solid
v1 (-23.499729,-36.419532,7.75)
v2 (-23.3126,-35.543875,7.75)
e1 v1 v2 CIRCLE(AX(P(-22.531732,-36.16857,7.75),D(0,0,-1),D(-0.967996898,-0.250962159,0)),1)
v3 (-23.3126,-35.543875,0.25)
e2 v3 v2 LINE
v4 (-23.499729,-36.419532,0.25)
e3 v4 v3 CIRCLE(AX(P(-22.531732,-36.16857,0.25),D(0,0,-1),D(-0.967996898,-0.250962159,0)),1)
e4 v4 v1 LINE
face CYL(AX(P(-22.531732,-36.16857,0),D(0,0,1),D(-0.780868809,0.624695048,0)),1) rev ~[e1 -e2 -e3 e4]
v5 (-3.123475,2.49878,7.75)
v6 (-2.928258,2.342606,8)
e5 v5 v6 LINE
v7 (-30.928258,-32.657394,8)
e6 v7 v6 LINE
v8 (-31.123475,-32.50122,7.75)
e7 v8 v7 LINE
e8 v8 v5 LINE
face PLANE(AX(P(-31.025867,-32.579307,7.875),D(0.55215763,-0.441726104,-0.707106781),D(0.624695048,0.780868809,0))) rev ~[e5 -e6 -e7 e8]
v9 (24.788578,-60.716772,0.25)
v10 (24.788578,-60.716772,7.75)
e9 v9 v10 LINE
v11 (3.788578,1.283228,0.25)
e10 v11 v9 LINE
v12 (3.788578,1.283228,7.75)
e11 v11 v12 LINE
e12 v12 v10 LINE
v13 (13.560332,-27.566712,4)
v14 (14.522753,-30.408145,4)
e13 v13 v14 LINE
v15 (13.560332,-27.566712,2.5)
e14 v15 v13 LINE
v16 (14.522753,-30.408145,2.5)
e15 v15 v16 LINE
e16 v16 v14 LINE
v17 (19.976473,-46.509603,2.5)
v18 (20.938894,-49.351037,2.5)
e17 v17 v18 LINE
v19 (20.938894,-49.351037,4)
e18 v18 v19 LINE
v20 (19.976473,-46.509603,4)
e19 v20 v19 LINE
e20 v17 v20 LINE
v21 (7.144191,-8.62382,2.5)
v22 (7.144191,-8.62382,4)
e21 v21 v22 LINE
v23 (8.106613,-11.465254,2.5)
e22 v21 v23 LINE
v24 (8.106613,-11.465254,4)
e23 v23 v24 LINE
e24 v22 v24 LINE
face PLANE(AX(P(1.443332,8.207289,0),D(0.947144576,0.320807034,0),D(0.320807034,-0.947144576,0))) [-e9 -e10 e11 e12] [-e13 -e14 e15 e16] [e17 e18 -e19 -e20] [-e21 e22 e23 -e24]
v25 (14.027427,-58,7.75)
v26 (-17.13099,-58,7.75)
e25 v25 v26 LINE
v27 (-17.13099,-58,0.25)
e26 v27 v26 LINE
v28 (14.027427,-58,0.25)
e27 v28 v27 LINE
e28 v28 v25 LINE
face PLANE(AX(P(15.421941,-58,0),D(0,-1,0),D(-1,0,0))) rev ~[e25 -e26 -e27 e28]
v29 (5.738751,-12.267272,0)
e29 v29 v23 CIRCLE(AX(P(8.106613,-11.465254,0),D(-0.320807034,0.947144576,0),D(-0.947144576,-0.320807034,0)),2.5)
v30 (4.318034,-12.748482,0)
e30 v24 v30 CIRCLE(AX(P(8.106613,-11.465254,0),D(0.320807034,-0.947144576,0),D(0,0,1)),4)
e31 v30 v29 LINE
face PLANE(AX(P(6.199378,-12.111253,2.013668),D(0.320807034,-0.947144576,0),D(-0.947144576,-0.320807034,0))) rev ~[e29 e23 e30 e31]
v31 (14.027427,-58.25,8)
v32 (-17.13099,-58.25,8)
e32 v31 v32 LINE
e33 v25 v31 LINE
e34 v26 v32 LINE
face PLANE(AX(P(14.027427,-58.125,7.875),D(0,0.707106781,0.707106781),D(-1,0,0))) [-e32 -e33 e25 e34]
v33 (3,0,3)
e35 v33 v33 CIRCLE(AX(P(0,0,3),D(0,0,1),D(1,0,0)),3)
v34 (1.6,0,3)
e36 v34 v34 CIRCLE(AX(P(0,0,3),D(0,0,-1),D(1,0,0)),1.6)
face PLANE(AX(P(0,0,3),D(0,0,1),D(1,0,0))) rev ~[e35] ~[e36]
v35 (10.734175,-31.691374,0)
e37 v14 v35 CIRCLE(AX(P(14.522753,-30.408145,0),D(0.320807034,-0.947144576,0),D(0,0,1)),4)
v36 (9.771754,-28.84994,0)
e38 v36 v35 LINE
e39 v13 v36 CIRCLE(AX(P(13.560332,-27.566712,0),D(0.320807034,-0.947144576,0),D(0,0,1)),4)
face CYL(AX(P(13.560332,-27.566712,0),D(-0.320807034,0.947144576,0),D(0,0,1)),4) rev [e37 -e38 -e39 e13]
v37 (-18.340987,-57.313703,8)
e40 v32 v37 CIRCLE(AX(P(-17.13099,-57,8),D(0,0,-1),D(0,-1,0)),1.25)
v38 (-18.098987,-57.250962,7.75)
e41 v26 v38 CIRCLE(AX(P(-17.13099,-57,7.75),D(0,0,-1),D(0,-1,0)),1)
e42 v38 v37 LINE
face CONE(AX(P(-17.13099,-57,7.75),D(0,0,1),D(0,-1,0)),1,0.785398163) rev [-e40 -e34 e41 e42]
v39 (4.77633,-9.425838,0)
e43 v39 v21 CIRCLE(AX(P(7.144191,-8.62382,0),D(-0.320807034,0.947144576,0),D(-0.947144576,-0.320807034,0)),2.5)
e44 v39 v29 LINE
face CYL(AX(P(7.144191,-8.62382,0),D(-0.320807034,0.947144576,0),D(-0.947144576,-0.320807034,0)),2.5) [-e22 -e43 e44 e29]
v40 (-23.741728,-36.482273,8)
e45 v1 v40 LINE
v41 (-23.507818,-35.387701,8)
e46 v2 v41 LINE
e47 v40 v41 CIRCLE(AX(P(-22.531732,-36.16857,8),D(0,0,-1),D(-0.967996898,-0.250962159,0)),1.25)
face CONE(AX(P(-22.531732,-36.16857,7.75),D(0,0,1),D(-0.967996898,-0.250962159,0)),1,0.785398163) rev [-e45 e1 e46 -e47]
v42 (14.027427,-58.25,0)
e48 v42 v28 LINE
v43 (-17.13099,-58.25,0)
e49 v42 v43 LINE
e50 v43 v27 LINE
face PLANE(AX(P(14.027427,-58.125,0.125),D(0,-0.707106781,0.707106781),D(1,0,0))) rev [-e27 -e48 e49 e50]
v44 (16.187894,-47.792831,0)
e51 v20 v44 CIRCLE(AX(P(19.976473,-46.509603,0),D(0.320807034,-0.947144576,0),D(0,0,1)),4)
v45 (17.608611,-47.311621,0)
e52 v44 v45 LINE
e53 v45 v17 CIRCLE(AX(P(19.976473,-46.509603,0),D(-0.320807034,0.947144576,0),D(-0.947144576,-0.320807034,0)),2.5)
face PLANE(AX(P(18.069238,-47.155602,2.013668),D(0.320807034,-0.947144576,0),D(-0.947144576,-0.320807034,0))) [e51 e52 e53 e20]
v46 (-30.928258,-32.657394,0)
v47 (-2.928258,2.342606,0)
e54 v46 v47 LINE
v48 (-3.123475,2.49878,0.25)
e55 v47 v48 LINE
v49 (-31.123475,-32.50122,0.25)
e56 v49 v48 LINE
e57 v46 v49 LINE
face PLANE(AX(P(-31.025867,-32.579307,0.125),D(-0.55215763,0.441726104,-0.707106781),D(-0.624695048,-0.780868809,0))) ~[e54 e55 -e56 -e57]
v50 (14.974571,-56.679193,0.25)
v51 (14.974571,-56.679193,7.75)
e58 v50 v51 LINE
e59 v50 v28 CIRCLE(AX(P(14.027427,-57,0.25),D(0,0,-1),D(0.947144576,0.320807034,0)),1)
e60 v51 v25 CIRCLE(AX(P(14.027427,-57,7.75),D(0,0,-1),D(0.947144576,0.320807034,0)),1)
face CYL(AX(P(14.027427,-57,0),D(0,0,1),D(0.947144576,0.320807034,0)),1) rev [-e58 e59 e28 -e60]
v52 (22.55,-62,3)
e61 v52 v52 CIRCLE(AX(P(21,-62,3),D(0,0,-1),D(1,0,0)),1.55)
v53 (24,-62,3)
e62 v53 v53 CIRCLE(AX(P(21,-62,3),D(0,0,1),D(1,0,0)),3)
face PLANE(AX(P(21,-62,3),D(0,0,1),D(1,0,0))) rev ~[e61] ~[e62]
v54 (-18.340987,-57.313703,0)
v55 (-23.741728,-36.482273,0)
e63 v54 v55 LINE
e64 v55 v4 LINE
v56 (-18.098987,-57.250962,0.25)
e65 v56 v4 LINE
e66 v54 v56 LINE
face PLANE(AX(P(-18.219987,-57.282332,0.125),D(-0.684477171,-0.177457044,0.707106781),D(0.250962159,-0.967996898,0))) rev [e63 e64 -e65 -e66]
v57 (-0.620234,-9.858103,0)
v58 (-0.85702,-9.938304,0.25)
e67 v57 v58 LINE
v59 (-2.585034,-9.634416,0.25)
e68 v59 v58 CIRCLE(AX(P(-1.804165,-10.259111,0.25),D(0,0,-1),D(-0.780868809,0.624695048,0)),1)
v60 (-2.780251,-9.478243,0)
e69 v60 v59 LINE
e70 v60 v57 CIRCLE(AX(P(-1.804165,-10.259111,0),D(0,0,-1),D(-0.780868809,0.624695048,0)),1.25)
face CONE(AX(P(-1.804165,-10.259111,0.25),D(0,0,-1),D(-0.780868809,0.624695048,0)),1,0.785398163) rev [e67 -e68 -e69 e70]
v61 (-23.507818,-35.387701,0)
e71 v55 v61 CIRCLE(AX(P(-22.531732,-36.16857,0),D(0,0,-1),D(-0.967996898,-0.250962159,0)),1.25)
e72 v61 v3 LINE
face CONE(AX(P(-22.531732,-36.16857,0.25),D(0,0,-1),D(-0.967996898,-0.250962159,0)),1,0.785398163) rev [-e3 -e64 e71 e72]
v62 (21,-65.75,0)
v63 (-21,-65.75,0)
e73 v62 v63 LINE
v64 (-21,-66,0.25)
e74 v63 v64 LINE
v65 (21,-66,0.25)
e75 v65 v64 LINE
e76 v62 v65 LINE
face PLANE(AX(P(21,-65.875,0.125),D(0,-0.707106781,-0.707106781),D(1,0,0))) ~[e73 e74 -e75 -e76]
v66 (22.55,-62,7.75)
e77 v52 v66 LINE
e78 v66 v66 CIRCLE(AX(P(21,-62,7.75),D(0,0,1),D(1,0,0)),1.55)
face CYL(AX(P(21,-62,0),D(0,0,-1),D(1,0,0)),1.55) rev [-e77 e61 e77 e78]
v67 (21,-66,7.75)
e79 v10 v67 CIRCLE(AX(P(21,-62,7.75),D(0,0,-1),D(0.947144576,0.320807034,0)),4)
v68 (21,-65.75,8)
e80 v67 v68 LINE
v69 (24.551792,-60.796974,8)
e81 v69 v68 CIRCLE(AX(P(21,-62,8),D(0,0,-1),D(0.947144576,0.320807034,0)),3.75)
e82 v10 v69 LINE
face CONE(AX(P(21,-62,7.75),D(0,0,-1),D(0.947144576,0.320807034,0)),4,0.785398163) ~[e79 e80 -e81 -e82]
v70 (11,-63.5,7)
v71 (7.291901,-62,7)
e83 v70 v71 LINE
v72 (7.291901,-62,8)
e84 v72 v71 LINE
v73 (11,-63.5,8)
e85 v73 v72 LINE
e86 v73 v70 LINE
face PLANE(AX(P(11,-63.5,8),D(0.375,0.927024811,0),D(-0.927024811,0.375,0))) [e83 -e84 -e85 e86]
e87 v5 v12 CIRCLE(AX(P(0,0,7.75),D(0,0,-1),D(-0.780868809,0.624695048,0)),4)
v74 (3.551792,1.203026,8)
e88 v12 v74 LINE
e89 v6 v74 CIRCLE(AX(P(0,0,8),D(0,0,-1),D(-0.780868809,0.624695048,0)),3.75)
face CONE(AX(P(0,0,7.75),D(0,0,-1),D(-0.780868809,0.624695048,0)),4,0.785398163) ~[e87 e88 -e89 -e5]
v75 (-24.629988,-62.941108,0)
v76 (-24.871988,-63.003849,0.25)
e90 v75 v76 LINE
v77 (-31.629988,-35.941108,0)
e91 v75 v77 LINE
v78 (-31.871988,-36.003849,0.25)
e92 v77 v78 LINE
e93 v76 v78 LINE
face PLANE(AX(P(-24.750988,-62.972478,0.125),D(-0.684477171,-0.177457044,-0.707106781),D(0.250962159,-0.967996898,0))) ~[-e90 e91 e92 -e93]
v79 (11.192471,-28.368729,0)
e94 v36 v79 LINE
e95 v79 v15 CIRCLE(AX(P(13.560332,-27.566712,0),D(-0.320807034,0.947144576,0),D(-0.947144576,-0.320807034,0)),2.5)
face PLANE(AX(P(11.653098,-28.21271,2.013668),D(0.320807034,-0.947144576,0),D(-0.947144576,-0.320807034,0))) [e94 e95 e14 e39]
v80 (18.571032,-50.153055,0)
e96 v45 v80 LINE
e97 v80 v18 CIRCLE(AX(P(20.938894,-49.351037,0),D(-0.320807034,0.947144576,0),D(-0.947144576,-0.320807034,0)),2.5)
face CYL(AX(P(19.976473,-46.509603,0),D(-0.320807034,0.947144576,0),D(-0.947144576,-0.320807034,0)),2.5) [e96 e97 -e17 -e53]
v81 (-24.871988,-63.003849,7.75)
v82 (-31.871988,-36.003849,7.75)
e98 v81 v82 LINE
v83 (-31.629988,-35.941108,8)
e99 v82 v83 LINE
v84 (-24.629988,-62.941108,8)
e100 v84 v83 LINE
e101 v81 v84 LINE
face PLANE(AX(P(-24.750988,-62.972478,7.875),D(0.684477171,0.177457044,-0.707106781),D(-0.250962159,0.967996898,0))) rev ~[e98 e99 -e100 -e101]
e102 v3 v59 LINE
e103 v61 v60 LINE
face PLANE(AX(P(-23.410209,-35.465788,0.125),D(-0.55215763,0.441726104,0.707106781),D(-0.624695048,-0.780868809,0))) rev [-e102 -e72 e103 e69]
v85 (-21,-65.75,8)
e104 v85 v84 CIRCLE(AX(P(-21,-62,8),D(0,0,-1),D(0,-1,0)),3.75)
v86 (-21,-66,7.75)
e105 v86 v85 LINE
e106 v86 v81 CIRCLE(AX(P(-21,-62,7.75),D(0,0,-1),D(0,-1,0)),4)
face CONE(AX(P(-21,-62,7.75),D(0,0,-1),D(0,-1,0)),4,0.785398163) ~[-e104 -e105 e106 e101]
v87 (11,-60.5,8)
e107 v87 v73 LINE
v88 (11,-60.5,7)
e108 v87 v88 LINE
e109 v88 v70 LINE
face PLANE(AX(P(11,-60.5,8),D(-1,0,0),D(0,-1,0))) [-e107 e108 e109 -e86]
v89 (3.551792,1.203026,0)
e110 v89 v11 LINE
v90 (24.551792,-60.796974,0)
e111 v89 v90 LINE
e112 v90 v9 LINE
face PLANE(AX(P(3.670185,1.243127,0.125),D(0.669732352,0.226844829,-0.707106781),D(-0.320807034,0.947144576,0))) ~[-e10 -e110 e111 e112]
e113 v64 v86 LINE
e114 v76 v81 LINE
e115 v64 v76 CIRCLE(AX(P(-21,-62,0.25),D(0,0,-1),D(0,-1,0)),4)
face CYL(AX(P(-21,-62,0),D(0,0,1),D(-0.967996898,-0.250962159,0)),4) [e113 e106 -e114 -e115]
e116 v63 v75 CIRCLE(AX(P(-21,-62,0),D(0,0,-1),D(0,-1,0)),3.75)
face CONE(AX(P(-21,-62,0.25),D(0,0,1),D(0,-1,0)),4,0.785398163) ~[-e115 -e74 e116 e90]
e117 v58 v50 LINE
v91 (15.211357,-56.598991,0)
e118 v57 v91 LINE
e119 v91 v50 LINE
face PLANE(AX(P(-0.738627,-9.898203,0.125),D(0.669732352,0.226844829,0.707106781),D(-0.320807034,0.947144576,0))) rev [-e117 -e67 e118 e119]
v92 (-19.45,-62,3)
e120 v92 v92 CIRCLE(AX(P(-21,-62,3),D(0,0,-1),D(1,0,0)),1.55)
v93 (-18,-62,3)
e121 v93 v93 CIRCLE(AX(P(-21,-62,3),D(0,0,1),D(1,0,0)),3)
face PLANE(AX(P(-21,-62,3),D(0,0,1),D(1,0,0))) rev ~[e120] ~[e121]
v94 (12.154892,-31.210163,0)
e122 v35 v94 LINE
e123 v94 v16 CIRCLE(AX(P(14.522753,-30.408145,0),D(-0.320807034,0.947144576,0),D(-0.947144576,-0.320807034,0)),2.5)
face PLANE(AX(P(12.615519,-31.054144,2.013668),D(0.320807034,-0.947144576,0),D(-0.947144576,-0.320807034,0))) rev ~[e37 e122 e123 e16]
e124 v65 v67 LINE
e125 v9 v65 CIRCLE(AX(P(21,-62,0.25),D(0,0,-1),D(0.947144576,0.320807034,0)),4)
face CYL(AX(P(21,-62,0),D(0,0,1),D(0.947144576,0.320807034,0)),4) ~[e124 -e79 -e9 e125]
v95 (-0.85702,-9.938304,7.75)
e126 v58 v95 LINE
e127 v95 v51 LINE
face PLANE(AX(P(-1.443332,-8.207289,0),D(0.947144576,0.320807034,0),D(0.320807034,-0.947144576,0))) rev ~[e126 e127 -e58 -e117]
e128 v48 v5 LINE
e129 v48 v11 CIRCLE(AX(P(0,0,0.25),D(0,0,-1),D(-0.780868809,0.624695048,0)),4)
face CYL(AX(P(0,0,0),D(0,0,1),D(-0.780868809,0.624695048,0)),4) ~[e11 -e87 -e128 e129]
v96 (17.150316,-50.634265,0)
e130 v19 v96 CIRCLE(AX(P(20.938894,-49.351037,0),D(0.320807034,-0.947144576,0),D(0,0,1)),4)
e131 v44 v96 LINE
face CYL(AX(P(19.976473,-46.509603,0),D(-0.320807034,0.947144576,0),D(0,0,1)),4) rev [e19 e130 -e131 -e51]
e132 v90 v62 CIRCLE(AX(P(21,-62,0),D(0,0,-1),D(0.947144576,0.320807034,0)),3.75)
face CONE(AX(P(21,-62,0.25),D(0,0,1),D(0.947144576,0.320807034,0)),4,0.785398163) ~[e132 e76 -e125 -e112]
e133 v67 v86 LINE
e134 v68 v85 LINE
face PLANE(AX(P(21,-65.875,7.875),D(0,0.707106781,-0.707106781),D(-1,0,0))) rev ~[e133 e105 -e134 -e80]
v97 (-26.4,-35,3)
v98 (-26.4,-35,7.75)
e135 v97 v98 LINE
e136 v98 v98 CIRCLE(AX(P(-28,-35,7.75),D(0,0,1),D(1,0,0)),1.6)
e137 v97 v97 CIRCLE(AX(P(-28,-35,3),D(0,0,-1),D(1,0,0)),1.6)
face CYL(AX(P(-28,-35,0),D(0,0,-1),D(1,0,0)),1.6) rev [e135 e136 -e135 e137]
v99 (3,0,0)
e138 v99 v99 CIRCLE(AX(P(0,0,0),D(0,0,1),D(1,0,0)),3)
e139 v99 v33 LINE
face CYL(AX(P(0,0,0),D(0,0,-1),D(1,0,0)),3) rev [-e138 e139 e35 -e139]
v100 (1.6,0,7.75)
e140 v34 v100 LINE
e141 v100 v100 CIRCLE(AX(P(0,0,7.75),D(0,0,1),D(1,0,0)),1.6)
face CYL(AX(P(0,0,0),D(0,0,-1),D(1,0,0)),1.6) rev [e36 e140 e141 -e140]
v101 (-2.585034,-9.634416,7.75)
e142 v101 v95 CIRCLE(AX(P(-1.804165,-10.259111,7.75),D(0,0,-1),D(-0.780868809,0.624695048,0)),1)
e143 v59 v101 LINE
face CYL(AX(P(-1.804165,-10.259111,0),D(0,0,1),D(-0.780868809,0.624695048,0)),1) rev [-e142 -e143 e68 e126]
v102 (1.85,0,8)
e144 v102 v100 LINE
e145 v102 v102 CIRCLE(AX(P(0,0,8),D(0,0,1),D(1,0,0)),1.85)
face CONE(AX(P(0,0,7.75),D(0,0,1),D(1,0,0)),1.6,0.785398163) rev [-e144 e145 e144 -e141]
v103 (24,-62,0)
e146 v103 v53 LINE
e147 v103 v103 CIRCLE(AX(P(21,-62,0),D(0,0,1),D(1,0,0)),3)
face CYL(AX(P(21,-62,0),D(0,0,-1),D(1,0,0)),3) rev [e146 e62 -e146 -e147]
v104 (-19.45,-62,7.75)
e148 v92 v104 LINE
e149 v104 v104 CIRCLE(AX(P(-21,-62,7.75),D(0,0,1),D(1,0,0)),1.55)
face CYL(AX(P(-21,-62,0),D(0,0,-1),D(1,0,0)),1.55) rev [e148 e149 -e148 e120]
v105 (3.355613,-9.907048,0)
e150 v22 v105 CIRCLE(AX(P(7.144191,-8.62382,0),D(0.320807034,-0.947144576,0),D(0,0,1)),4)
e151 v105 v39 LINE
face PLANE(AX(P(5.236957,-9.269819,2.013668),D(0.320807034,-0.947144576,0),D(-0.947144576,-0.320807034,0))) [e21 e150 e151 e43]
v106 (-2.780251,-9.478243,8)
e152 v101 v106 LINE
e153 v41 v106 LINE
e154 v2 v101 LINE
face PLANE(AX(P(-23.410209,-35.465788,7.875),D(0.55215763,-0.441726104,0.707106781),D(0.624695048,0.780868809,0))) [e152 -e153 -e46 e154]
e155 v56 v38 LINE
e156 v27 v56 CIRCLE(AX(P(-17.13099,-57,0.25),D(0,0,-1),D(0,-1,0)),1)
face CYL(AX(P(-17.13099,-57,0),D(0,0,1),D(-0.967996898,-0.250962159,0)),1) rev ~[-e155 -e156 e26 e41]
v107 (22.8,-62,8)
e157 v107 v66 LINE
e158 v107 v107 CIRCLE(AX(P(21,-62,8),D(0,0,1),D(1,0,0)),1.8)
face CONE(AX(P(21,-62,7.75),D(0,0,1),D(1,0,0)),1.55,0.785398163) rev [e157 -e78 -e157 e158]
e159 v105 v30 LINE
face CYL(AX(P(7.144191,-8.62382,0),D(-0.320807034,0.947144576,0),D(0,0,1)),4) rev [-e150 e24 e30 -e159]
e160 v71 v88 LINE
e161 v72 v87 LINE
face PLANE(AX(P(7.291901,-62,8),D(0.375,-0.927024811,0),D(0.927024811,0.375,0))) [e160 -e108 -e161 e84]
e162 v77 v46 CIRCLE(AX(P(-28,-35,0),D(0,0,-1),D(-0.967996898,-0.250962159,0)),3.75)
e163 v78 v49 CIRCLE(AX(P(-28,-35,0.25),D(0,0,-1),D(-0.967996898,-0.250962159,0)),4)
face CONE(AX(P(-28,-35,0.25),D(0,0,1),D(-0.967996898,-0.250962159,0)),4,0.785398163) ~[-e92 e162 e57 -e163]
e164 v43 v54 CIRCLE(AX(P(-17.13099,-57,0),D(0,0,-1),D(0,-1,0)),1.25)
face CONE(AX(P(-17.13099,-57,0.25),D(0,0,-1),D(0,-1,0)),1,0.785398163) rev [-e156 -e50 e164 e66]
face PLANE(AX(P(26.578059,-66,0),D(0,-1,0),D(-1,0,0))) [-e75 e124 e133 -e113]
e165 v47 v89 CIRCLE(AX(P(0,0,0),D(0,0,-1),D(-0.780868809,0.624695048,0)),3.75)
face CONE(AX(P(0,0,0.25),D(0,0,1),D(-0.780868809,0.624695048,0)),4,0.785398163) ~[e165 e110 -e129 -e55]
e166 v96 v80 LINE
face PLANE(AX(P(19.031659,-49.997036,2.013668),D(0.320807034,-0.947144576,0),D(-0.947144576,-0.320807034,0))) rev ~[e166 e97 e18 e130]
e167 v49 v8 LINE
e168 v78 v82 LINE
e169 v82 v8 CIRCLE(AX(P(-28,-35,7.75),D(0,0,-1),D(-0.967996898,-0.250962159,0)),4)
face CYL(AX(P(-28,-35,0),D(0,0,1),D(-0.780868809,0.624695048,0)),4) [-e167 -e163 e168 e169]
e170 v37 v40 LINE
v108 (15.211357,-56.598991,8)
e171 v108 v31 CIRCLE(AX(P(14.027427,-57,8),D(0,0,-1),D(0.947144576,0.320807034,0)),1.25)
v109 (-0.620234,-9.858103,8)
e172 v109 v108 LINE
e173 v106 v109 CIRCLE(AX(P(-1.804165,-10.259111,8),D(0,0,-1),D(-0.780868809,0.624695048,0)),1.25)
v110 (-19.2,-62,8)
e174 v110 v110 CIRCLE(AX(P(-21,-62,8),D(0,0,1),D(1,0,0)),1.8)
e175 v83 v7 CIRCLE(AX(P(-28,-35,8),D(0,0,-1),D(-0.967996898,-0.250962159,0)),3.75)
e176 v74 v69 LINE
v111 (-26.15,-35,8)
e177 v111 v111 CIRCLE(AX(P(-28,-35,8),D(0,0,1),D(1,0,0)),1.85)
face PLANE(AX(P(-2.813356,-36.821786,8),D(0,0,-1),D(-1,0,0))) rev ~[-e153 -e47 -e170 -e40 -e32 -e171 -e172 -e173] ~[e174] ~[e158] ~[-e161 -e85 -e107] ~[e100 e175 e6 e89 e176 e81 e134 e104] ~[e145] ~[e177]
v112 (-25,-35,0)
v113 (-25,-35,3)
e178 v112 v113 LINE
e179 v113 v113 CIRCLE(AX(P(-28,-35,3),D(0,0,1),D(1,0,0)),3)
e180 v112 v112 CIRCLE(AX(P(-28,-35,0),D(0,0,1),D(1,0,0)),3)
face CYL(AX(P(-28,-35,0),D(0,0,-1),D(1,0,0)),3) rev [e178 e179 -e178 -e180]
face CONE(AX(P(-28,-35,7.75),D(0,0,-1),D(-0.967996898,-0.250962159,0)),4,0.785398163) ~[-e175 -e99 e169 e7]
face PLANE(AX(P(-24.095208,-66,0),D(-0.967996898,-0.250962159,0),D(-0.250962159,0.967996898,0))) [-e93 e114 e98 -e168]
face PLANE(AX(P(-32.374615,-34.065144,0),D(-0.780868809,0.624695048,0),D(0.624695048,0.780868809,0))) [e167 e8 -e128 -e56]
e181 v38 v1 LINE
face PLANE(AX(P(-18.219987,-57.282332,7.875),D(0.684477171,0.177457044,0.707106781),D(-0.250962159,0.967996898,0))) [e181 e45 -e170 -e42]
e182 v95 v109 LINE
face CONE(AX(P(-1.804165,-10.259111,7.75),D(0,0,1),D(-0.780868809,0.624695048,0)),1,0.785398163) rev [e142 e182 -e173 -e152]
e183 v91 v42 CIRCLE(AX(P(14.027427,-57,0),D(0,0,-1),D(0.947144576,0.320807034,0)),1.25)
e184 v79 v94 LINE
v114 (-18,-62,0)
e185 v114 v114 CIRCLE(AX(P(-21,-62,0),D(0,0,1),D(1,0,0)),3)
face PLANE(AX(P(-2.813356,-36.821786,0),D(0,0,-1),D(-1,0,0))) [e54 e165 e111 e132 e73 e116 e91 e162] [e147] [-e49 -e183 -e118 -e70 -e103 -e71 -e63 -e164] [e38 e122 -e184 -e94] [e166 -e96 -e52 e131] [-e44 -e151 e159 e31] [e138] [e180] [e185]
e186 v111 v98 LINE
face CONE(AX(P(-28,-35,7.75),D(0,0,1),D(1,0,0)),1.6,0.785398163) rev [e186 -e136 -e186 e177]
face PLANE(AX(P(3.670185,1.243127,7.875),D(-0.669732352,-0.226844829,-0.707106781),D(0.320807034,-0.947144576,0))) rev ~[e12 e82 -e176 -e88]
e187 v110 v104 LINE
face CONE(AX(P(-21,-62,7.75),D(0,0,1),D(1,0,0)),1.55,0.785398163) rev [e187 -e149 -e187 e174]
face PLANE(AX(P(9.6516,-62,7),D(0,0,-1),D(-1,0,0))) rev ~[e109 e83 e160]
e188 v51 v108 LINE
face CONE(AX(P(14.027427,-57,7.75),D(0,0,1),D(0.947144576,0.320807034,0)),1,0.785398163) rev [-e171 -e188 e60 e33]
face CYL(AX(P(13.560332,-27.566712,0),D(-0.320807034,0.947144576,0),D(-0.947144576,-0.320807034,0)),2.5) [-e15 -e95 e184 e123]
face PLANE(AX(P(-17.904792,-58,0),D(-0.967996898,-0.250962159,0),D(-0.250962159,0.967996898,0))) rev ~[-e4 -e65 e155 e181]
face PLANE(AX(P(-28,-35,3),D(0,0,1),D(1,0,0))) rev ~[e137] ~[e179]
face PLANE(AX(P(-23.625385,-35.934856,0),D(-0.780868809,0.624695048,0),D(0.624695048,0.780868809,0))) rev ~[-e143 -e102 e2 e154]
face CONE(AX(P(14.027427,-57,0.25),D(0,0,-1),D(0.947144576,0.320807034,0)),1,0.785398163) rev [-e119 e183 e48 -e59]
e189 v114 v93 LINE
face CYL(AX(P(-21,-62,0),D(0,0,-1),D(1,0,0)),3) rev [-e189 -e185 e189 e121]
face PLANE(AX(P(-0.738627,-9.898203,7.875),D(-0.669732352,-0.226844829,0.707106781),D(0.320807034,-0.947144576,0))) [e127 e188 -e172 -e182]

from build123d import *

# Parameters (mm, degrees)
SZKIC1_R                    = 1.55
SZKIC1_R_2                  = 1.6
DODANIE_WYCI_GNI_CIE1_DEPTH = 8
ZAOKR_GLENIE1_R             = 4
SZKIC2_R                    = 3
WYTNIJ_WYCI_GNI_CIE1_DEPTH  = 3
ZAOKR_GLENIE2_R             = 1
SFAZOWANIE1_SIZE            = 0.25
WYTNIJ_WYCI_GNI_CIE2_DEPTH  = 1
WYTNIJ_WYCI_GNI_CIE3_DEPTH  = 3
SZYK_LINIOWY1_COUNT         = 3
SZYK_LINIOWY1_PITCH         = 20


with BuildPart() as part:
    # Szkic1 → Dodanie-wyciągnięcie1 (new body)
    with BuildSketch(Plane.XY):
        Polygon((-32.374614688, -34.065144123), (1.443331859, 8.207289062), (26.5780588, -66), (-24.095207609, -66), align=None)
        with Locations((-21, -62)):
            Circle(SZKIC1_R, mode=Mode.SUBTRACT)
        with Locations((21, -62)):
            Circle(SZKIC1_R, mode=Mode.SUBTRACT)
        Circle(SZKIC1_R_2, mode=Mode.SUBTRACT)
        with Locations((-28, -35)):
            Circle(SZKIC1_R_2, mode=Mode.SUBTRACT)
        Polygon((-23.625385312, -35.934855877), (-1.443331859, -8.207289062), (15.4219412, -58), (-17.904792391, -58), align=None, mode=Mode.SUBTRACT)
    extrude(amount=DODANIE_WYCI_GNI_CIE1_DEPTH)

    # Zaokrąglenie1
    zaokr_glenie1_edges = [part.edges().sort_by_distance(p)[0] for p in [
        (-32.374614688, -34.065144123, 4),
        (1.443331859, 8.207289062, 4),
        (26.5780588, -66, 4),
        (-24.095207609, -66, 4),
    ]]
    fillet(zaokr_glenie1_edges, radius=ZAOKR_GLENIE1_R)

    # Szkic2 → Wytnij-wyciągnięcie1 (cut)
    with BuildSketch(Plane.XY):
        Circle(SZKIC2_R)
        with Locations((-28, -35)):
            Circle(SZKIC2_R)
        with Locations((-21, -62)):
            Circle(SZKIC2_R)
        with Locations((21, -62)):
            Circle(SZKIC2_R)
    extrude(amount=WYTNIJ_WYCI_GNI_CIE1_DEPTH, mode=Mode.SUBTRACT)

    # Zaokrąglenie2
    zaokr_glenie2_edges = [part.edges().sort_by_distance(p)[0] for p in [
        (-23.625385312, -35.934855877, 4),
        (-17.904792391, -58, 4),
        (15.4219412, -58, 4),
        (-1.443331859, -8.207289062, 4),
    ]]
    fillet(zaokr_glenie2_edges, radius=ZAOKR_GLENIE2_R)

    # Sfazowanie1
    sfazowanie1_edges = [part.edges().sort_by_distance(p)[0] for p in [
        (7.058775414, -33.30874863, 0),
        (7.058775414, -33.30874863, 8),
        (-20.799357962, -46.835247082, 0),
        (-20.799357962, -46.835247082, 8),
        (-12.948817041, -22.589145539, 0),
        (-12.948817041, -22.589145539, 8),
        (14.84007865, -57.582749074, 0),
        (14.84007865, -57.582749074, 8),
        (-17.742969998, -57.790873618, 0),
        (-17.742969998, -57.790873618, 8),
        (-23.509651218, -35.959588272, 0),
        (-23.509651218, -35.959588272, 8),
        (-1.630962951, -9.274224983, 0),
        (-1.630962951, -9.274224983, 8),
        (-22.55, -62, 8),
        (19.45, -62, 8),
        (-1.6, 0, 8),
        (-29.6, -35, 8),
        (0, -66, 0),
        (0, -66, 8),
        (-28.371987593, -49.503848635, 0),
        (-17.123475238, -15.00121981, 0),
        (14.288578303, -29.716771865, 0),
        (0.692807492, 3.939545377, 0),
        (24.2506086, -64.330996296, 0),
        (-31.911678313, -34.164073702, 0),
        (-23.44791804, -65.163494471, 0),
        (-28.371987593, -49.503848635, 8),
        (14.288578303, -29.716771865, 8),
        (-17.123475238, -15.00121981, 8),
        (0.692807492, 3.939545377, 8),
        (24.2506086, -64.330996296, 8),
        (-31.911678313, -34.164073702, 8),
        (-23.44791804, -65.163494471, 8),
        (-1.551781994, -58, 0),
        (-1.551781994, -58, 8),
    ]]
    chamfer(sfazowanie1_edges, length=SFAZOWANIE1_SIZE)

    # Szkic3 → Wytnij-wyciągnięcie2 (cut)
    with BuildSketch(Plane(origin=(0, 0, 8), x_dir=(-1, 0, 0), z_dir=(0, 0, -1))):
        Polygon((-11, -60.5), (-11, -63.5), (-7.291900756, -62), align=None)
    extrude(amount=WYTNIJ_WYCI_GNI_CIE2_DEPTH, mode=Mode.SUBTRACT)

    # Szkic4 → Wytnij-wyciągnięcie3 (cut)
    with BuildSketch(Plane(origin=(19.976472797, -46.509603231, 0.25), x_dir=(0.9471445756278131, 0.3208070336803883, 0), z_dir=(-0.3208070336803883, 0.9471445756278131, 0))):
        with BuildLine():
            Line((-4, 0.25), (-2.5, 0.25))
            ThreePointArc((-2.5, 0.25), (-1.767766953, -1.517766953), (0, -2.25))
            Line((0, -2.25), (0, -3.75))
            ThreePointArc((0, -3.75), (-2.828427125, -2.578427125), (-4, 0.25))
        make_face()
    wytnij_wyci_gni_cie3 = extrude(amount=-WYTNIJ_WYCI_GNI_CIE3_DEPTH, mode=Mode.SUBTRACT)

    # Szyk liniowy1: Wytnij-wyciągnięcie3 ×3
    with Locations(*[Vector(-0.3208070336803885, 0.9471445756278131, 0) * (i * SZYK_LINIOWY1_PITCH) for i in range(1, SZYK_LINIOWY1_COUNT)]):
        add(wytnij_wyci_gni_cie3, mode=Mode.SUBTRACT)


solid = part.part
